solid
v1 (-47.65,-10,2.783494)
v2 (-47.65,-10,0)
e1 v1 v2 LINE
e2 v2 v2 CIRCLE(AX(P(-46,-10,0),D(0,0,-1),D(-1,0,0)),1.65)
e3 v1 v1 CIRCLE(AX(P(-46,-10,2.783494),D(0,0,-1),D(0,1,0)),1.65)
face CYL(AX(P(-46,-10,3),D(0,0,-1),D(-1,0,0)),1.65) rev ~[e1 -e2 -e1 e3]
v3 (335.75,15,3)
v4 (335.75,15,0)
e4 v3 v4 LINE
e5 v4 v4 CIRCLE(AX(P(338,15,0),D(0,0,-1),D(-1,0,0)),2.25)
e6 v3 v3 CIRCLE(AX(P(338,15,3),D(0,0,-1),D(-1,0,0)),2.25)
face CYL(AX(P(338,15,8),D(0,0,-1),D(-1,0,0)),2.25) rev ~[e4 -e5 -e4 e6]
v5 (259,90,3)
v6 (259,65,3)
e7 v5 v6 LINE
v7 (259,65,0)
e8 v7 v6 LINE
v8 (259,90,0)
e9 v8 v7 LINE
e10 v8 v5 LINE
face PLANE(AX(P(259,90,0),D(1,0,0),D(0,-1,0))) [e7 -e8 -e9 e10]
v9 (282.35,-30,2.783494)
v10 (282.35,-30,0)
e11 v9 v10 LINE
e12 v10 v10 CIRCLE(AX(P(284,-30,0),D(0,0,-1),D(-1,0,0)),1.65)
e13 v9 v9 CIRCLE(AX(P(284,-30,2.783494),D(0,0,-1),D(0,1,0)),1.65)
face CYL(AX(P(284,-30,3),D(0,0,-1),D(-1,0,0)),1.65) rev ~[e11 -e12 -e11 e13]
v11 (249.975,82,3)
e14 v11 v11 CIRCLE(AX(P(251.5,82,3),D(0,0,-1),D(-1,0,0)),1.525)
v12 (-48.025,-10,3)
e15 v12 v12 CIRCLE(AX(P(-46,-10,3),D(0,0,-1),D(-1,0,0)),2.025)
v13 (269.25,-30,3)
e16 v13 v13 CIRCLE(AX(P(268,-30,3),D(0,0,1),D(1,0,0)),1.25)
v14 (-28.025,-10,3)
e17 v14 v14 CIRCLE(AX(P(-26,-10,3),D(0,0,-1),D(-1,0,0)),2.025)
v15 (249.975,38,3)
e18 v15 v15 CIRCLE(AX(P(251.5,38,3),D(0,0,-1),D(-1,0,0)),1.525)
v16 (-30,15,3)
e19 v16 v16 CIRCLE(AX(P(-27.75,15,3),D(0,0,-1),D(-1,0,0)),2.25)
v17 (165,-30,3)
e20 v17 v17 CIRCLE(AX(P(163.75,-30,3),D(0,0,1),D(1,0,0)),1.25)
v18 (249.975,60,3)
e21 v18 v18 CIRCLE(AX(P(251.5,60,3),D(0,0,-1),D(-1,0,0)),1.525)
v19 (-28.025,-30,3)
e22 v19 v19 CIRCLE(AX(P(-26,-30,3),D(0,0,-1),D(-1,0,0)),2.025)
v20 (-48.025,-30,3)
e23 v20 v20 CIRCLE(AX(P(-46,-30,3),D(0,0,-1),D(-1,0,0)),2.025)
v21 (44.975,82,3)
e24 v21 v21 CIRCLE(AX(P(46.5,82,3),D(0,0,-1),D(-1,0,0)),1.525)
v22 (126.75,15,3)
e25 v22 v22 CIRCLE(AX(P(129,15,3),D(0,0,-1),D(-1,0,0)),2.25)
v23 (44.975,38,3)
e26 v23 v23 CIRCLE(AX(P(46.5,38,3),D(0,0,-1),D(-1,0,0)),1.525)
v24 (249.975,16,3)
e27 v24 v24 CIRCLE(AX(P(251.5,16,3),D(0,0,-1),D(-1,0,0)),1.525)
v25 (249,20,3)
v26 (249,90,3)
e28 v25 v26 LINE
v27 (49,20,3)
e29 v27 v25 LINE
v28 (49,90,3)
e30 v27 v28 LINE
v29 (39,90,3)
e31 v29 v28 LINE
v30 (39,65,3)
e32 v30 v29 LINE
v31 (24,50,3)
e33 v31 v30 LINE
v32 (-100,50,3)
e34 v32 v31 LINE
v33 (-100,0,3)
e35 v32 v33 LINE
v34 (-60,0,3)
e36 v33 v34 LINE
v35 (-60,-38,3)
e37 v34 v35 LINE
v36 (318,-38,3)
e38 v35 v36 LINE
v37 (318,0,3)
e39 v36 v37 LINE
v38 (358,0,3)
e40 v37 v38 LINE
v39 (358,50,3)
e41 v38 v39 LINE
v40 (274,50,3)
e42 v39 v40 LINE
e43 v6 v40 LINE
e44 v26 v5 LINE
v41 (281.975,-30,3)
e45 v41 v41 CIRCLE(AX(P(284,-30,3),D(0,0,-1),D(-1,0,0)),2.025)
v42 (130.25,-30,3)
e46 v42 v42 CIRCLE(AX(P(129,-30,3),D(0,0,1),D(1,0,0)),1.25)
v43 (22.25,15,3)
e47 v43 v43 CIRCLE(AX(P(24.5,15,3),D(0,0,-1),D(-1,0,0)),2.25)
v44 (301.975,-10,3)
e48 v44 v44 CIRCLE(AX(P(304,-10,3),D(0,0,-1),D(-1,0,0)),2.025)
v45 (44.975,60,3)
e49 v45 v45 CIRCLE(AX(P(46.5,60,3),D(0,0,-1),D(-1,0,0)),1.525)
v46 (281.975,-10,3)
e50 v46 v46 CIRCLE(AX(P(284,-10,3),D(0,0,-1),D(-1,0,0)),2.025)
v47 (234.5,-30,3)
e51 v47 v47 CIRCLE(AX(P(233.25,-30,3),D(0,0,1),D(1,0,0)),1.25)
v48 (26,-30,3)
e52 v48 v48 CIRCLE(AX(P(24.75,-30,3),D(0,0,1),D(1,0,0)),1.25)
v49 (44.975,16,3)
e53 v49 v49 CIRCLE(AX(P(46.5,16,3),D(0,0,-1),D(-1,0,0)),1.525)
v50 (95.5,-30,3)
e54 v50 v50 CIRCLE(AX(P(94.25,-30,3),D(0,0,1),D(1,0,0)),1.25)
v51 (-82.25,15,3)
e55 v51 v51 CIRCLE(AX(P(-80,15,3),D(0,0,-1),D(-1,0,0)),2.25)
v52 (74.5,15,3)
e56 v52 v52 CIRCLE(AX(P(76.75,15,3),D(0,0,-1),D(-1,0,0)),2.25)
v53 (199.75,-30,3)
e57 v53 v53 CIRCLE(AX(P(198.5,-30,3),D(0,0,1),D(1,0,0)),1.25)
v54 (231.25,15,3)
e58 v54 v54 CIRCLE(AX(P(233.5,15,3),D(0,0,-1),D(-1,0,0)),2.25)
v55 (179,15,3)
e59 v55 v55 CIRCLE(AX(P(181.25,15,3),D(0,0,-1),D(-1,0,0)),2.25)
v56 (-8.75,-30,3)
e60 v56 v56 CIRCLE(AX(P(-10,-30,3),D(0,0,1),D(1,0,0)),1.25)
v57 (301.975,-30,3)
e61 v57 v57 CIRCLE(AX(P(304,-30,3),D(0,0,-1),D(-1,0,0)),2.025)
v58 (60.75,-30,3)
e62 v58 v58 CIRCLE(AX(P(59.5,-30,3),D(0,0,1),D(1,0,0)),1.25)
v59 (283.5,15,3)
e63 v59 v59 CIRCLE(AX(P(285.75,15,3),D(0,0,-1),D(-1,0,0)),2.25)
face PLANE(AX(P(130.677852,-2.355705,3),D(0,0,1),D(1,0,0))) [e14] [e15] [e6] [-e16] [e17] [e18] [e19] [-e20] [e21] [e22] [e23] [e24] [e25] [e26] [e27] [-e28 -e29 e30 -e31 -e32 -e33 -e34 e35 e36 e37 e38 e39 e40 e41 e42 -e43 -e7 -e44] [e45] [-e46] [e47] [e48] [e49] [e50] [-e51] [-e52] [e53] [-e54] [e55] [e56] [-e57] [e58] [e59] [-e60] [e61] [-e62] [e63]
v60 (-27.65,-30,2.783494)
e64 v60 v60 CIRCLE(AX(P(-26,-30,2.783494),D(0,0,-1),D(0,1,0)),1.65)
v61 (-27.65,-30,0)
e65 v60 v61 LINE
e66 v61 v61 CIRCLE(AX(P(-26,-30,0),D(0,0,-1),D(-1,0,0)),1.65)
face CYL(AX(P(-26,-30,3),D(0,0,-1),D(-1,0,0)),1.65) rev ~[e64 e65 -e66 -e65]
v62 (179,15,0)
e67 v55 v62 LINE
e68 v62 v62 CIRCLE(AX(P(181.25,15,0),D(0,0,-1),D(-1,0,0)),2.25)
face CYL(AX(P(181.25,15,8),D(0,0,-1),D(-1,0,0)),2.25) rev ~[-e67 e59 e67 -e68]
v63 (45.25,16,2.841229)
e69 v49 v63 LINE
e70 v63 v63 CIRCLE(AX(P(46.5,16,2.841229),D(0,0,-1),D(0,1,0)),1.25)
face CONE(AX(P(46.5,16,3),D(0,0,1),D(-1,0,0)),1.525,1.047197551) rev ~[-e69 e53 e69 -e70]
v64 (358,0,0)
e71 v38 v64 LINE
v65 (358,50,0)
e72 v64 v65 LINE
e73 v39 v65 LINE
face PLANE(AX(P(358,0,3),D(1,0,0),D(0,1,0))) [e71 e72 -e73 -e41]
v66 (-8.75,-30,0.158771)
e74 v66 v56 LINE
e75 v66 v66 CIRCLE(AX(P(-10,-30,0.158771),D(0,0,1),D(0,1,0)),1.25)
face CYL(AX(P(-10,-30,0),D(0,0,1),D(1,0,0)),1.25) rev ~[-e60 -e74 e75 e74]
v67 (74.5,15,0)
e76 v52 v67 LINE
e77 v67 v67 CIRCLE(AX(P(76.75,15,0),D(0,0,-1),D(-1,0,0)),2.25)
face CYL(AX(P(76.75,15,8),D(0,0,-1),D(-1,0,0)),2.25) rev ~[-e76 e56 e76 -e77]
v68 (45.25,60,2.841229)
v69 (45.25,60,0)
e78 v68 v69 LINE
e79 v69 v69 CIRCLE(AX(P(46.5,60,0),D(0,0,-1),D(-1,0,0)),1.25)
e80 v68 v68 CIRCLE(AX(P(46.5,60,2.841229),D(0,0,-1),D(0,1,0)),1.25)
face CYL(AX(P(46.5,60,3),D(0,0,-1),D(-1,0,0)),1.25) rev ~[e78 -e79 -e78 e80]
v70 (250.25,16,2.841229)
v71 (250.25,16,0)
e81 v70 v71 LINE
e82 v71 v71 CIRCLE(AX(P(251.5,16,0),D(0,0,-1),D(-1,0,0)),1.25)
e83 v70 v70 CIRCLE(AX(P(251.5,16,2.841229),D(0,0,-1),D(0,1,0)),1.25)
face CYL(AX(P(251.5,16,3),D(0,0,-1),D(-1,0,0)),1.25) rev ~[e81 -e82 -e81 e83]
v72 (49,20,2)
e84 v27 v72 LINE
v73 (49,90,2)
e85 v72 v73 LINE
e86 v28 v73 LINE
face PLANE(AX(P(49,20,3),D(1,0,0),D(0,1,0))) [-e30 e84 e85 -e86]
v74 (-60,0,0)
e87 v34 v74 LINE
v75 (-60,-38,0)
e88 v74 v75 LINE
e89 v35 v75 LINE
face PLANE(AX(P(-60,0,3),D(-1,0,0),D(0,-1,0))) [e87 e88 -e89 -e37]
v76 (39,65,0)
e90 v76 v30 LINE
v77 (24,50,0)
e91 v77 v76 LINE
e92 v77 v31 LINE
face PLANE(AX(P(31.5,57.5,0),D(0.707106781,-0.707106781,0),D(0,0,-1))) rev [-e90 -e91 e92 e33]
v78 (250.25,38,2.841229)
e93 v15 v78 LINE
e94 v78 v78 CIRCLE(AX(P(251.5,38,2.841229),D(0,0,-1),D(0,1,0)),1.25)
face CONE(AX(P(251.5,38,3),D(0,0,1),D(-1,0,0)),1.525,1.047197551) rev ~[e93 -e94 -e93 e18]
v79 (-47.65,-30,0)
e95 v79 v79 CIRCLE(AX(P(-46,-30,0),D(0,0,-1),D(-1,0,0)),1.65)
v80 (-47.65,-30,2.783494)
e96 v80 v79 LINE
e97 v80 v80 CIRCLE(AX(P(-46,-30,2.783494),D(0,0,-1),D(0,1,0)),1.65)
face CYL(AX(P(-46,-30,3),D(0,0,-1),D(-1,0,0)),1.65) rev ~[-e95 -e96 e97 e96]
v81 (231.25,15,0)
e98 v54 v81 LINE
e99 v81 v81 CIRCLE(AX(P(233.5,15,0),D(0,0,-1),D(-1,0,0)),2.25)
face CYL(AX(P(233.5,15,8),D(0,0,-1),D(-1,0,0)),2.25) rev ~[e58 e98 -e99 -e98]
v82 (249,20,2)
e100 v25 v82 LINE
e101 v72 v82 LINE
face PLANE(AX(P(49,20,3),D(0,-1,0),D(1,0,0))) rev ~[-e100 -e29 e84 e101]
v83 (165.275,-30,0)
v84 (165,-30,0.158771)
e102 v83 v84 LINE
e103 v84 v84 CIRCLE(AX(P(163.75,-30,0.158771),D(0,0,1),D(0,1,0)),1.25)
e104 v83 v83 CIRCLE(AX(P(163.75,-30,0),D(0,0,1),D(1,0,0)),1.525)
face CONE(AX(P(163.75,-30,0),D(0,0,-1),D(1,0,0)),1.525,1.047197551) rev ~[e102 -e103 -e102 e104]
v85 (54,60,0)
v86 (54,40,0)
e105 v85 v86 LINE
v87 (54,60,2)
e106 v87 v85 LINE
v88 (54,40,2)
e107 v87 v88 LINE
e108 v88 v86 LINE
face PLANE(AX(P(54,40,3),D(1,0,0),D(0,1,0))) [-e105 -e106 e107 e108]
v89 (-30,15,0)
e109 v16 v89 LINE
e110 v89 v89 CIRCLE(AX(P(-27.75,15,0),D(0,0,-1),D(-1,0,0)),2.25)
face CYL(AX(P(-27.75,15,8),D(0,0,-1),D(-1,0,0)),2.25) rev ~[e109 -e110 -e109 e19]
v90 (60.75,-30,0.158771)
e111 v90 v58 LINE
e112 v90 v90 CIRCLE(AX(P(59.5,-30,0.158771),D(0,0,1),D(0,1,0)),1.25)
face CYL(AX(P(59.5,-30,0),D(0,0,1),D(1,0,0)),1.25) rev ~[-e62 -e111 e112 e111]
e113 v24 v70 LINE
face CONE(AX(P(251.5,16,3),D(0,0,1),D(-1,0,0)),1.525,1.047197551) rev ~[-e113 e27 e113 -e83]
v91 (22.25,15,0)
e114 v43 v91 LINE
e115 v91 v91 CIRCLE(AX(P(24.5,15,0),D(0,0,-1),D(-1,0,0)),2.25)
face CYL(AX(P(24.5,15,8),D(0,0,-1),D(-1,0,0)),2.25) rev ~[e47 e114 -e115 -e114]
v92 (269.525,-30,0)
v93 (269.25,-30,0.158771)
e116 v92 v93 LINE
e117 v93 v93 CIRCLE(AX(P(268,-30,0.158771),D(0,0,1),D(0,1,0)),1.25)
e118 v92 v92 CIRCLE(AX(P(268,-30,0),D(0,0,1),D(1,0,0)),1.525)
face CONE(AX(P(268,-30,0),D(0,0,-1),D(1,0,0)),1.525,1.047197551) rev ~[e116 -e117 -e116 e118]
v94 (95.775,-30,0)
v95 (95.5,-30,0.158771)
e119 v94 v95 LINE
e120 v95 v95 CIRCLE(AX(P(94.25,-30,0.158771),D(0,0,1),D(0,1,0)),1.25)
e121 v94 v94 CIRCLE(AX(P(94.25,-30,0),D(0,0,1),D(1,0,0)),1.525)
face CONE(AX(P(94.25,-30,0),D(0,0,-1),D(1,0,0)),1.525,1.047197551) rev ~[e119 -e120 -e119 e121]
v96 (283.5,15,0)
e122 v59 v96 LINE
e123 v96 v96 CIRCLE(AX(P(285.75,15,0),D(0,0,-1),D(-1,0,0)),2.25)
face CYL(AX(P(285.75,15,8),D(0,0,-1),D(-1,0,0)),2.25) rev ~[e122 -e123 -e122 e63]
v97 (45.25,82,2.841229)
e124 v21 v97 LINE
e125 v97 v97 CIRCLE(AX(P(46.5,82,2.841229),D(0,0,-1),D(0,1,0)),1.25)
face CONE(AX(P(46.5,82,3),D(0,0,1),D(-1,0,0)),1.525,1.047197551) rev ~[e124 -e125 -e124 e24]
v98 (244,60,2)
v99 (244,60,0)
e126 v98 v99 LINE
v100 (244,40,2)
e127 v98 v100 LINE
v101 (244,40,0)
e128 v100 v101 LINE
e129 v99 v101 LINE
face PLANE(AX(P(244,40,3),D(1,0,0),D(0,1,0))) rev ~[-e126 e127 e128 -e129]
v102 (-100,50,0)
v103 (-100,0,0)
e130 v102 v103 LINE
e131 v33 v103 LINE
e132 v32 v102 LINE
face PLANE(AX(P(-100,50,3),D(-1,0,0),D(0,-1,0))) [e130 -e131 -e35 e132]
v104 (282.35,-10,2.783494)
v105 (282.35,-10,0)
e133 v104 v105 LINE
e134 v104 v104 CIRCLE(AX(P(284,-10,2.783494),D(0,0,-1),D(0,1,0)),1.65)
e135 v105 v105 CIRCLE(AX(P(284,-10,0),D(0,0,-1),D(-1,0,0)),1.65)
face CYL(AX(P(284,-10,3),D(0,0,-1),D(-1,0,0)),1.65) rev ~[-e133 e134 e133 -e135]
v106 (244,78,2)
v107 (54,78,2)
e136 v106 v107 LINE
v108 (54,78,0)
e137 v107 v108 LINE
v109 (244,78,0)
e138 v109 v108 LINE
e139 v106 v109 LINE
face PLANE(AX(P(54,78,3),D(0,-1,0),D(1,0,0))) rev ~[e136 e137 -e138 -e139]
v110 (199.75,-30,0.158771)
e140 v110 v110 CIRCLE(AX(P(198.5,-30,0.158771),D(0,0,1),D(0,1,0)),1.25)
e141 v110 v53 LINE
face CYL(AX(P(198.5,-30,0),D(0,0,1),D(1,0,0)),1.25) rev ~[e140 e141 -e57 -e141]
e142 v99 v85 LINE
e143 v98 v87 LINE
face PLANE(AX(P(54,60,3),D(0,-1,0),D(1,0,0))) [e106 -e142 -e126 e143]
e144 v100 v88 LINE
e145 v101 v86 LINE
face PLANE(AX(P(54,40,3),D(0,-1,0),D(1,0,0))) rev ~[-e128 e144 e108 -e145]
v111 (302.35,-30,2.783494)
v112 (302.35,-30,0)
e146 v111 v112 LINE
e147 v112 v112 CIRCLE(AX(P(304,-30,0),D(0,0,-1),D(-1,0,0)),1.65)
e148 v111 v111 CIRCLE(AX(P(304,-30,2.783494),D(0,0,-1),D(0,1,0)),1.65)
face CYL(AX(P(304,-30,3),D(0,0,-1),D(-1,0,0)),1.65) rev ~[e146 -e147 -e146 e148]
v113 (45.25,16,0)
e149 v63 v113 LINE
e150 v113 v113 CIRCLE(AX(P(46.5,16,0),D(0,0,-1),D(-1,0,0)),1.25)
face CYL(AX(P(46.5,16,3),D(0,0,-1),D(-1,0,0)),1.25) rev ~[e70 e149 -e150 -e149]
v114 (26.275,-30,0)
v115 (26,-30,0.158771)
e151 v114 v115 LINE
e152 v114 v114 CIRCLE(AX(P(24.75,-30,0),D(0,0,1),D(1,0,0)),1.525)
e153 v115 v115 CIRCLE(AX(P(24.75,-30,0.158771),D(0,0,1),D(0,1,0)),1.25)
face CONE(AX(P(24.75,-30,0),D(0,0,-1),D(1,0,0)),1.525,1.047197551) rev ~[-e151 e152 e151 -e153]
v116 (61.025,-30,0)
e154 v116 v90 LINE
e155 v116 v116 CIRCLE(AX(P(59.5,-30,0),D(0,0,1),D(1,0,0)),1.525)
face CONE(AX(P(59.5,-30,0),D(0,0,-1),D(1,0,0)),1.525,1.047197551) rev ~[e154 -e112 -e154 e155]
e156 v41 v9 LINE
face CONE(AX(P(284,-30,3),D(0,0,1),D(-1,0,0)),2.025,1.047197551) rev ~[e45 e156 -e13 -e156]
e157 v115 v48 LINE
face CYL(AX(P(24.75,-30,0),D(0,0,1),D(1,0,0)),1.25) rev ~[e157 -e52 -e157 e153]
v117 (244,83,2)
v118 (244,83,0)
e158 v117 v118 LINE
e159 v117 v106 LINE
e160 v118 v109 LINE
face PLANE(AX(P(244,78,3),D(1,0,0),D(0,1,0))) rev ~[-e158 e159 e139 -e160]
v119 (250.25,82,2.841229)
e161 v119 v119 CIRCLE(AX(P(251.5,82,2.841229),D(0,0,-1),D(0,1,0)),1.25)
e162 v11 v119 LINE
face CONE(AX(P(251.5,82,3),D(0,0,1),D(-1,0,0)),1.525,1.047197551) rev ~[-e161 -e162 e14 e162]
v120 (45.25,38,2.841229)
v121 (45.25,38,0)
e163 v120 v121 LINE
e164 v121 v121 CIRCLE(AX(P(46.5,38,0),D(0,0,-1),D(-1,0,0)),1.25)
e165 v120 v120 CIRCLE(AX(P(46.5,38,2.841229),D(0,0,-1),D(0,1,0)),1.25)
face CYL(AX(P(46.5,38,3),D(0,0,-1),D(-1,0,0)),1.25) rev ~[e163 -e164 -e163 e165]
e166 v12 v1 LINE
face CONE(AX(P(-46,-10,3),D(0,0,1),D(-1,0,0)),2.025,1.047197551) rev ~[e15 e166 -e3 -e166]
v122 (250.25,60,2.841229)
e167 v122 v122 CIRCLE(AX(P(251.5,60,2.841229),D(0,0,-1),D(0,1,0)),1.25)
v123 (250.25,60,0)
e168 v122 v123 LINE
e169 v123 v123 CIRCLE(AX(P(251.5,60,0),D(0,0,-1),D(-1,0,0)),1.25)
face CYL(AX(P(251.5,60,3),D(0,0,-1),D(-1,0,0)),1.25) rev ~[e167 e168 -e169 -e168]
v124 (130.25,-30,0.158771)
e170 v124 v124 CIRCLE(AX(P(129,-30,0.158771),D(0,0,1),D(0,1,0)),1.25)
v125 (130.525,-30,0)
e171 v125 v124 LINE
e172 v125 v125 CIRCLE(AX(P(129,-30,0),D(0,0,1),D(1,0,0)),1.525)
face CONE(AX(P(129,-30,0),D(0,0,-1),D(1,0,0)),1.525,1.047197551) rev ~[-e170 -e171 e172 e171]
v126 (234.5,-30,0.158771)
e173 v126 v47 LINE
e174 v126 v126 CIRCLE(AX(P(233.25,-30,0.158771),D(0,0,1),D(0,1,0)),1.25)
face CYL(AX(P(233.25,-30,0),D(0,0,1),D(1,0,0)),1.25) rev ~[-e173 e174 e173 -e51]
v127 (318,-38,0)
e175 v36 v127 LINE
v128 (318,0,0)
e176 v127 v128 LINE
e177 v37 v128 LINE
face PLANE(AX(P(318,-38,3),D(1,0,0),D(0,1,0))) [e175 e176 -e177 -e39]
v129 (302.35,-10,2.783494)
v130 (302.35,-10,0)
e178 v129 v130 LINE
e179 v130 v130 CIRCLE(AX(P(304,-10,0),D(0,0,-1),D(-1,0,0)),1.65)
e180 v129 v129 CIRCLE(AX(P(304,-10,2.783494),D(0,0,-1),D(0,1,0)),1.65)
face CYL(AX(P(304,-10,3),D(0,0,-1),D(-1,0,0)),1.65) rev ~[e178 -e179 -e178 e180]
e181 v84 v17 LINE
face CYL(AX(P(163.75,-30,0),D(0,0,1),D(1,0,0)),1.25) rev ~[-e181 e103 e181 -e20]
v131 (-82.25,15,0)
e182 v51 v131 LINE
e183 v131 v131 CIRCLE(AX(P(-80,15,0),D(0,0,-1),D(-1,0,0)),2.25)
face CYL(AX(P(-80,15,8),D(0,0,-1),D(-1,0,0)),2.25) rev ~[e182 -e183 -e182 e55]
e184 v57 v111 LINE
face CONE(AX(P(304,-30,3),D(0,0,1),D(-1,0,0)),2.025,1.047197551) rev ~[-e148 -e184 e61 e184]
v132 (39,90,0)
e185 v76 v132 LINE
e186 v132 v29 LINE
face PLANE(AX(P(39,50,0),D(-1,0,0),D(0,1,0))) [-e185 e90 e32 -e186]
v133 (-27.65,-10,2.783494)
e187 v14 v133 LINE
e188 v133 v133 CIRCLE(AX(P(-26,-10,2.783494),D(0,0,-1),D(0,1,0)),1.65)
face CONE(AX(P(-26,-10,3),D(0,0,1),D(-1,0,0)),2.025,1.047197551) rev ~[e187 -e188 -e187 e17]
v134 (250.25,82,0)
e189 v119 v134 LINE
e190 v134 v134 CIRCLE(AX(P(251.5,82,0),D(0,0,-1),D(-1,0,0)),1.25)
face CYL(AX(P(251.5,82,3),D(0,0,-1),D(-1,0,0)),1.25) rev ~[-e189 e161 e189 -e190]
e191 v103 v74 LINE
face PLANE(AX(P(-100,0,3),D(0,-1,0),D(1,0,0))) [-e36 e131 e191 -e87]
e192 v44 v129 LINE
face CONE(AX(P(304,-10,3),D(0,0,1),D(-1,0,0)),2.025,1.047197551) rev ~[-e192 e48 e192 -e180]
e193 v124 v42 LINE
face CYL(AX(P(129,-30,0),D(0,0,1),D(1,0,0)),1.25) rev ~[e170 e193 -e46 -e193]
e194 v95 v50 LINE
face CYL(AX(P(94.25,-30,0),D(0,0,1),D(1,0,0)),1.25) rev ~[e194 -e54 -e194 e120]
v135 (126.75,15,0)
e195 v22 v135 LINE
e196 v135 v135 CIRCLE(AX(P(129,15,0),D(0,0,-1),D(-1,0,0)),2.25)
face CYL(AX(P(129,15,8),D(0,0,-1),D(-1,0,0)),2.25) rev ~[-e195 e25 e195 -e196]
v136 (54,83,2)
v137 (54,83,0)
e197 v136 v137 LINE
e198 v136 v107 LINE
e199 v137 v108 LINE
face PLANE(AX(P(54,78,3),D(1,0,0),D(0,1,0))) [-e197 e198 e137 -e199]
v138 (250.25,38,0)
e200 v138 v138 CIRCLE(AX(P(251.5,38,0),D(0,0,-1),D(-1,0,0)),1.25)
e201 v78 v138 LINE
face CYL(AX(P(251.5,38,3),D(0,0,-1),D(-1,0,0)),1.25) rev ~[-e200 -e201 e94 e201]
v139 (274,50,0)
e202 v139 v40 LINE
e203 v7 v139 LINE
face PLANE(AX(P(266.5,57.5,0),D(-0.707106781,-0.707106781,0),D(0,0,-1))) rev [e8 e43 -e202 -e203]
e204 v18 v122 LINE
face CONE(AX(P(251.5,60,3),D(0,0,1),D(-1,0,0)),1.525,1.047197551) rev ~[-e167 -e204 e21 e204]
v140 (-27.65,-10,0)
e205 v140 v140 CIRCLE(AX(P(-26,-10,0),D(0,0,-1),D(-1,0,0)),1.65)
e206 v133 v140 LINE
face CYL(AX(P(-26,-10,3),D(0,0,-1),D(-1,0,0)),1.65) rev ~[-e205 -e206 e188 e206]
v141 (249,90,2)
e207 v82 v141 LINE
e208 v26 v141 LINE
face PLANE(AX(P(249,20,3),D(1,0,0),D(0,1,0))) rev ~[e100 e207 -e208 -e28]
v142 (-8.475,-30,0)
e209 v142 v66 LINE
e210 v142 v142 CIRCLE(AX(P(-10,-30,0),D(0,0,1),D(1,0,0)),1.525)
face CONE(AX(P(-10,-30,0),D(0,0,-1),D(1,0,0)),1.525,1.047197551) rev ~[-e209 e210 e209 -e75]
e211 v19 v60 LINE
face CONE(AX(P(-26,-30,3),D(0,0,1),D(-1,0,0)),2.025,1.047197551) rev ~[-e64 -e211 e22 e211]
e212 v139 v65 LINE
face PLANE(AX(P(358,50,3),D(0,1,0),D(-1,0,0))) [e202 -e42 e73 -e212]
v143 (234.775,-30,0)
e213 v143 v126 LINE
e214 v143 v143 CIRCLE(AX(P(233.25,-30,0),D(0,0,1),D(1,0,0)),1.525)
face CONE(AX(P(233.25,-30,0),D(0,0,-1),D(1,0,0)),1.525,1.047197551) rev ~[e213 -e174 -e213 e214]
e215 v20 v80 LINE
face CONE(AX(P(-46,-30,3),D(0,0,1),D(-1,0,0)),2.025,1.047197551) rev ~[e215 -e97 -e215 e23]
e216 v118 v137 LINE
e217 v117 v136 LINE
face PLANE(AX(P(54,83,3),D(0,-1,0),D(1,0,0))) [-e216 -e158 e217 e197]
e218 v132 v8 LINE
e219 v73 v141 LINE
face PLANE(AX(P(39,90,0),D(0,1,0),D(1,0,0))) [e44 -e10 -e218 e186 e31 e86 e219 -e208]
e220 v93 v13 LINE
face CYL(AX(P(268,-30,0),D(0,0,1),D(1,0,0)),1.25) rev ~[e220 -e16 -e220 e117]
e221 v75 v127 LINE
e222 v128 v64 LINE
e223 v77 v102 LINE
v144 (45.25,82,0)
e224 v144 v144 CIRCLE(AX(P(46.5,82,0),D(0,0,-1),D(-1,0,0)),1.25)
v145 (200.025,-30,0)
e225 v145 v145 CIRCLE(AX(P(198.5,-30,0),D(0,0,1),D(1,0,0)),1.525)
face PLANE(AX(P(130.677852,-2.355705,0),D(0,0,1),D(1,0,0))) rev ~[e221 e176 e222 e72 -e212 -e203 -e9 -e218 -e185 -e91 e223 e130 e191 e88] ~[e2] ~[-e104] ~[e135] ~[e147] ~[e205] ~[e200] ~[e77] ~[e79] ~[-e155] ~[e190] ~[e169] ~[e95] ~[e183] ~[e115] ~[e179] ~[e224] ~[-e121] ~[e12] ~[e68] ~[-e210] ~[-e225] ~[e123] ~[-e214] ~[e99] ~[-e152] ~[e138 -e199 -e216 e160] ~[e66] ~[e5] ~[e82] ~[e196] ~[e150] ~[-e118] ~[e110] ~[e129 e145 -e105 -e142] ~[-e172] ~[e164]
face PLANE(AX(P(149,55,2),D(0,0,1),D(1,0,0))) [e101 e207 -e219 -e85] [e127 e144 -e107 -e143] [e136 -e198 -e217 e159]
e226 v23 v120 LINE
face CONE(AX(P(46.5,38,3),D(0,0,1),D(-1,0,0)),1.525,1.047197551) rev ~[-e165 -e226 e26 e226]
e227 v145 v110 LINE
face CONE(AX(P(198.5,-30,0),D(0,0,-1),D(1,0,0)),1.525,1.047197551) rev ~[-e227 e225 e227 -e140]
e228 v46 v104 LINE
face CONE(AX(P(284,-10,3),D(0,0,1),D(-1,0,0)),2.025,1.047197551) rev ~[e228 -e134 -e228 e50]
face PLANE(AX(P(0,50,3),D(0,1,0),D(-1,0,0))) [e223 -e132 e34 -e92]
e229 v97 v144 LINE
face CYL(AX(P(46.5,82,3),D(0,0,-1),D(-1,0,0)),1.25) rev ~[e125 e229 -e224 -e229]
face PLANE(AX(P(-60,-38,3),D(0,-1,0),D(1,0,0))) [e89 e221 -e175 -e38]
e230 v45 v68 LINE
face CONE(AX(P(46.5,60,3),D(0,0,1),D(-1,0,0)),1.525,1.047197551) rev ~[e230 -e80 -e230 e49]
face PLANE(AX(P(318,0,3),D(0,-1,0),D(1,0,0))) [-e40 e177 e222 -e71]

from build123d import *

# Parameters (mm, degrees)
EXTRUDE_1_DEPTH             = 3
SKETCH_2_W                  = 190
SKETCH_2_H                  = 5
SKETCH_2_H_2                = 20
CUT_EXTRUDE_1_DEPTH         = 4
SKETCH_3_W                  = 200
SKETCH_3_H                  = 70
CUT_EXTRUDE_2_DEPTH         = 1
EXTRUDE_2_DEPTH             = 3
CHAMFER_1_SIZE              = 15
HOLE_WIZARD_M41_D           = 3.3
HOLE_WIZARD_M41_DEPTH       = 11.5
HOLE_WIZARD_M41_CSINK_D     = 4.05
HOLE_WIZARD_M41_CSINK_ANGLE = 120
HOLE_WIZARD_M41_TIP         = 0.991420021
HOLE_WIZARD_M31_D           = 2.5
HOLE_WIZARD_M31_DEPTH       = 8.5
HOLE_WIZARD_M31_CSINK_D     = 3.05
HOLE_WIZARD_M31_CSINK_ANGLE = 120
HOLE_WIZARD_M31_TIP         = 0.751075774
HOLE_WIZARD_M32_D           = 2.5
HOLE_WIZARD_M32_DEPTH       = 8.5
HOLE_WIZARD_M32_CSINK_D     = 3.05
HOLE_WIZARD_M32_CSINK_ANGLE = 120
HOLE_WIZARD_M32_TIP         = 0.751075774
HOLE_WIZARD_M42_D           = 4.5
HOLE_WIZARD_M42_DEPTH       = 5
HOLE_WIZARD_M42_TIP         = 1.351936393


with BuildPart() as part:
    # Эскиз1 → Бобышка-Вытянуть1 (new body)
    with BuildSketch(Plane.XY):
        Polygon((259, 50), (298, 50), (298, 0), (0, 0), (0, 50), (39, 50), (39, 90), (259, 90), align=None)
    extrude(amount=EXTRUDE_1_DEPTH)

    # Эскиз2 → Вырез-Вытянуть1 (cut)
    with BuildSketch(Plane.XY.offset(3)):
        with Locations((149, 80.5)):
            Rectangle(SKETCH_2_W, SKETCH_2_H)
        with Locations((149, 50)):
            Rectangle(SKETCH_2_W, SKETCH_2_H_2)
    extrude(amount=-CUT_EXTRUDE_1_DEPTH, mode=Mode.SUBTRACT)

    # Эскиз3 → Вырез-Вытянуть2 (cut)
    with BuildSketch(Plane.XY.offset(3)):
        with Locations((149, 55)):
            Rectangle(SKETCH_3_W, SKETCH_3_H)
    extrude(amount=-CUT_EXTRUDE_2_DEPTH, mode=Mode.SUBTRACT)

    # Эскиз4 → Бобышка-Вытянуть2 (add)
    with BuildSketch(Plane.XY.offset(3)):
        Polygon((0, 50), (-100, 50), (-100, 0), (-60, 0), (-60, -38), (318, -38), (318, 0), (358, 0), (358, 50), (298, 50), (298, 0), (0, 0), align=None)
    extrude(amount=-EXTRUDE_2_DEPTH)

    # Фаска1
    chamfer_1_edges = [part.edges().sort_by_distance(p)[0] for p in [
        (39, 50, 1.5),
        (259, 50, 1.5),
    ]]
    chamfer(chamfer_1_edges, length=CHAMFER_1_SIZE)

    # Отверстие обработанное метчиком M41
    with Locations(Plane.XY.offset(3)):
        with Locations((-46, -30), (-26, -30), (-46, -10), (-26, -10), (284, -10), (304, -10), (304, -30), (284, -30)):
            CounterSinkHole(HOLE_WIZARD_M41_D / 2, HOLE_WIZARD_M41_CSINK_D / 2, depth=HOLE_WIZARD_M41_DEPTH, counter_sink_angle=HOLE_WIZARD_M41_CSINK_ANGLE)
            with Locations((0, 0, -(HOLE_WIZARD_M41_DEPTH + HOLE_WIZARD_M41_TIP / 2))):  # 118° drill point
                Cone(0, HOLE_WIZARD_M41_D / 2, HOLE_WIZARD_M41_TIP, mode=Mode.SUBTRACT)

    # Отверстие обработанное метчиком M31
    with Locations(Plane(origin=(0, 0, 0), x_dir=(-1, 0, 0), z_dir=(0, 0, -1))):
        with Locations((-268, -30), (-233.25, -30), (-198.5, -30), (-163.75, -30), (-129, -30), (-94.25, -30), (-59.5, -30), (-24.75, -30), (10, -30)):
            CounterSinkHole(HOLE_WIZARD_M31_D / 2, HOLE_WIZARD_M31_CSINK_D / 2, depth=HOLE_WIZARD_M31_DEPTH, counter_sink_angle=HOLE_WIZARD_M31_CSINK_ANGLE)
            with Locations((0, 0, -(HOLE_WIZARD_M31_DEPTH + HOLE_WIZARD_M31_TIP / 2))):  # 118° drill point
                Cone(0, HOLE_WIZARD_M31_D / 2, HOLE_WIZARD_M31_TIP, mode=Mode.SUBTRACT)

    # Отверстие обработанное метчиком M32
    with Locations(Plane.XY.offset(3)):
        with Locations((251.5, 82), (46.5, 82), (251.5, 60), (46.5, 60), (251.5, 38), (46.5, 38), (251.5, 16), (46.5, 16)):
            CounterSinkHole(HOLE_WIZARD_M32_D / 2, HOLE_WIZARD_M32_CSINK_D / 2, depth=HOLE_WIZARD_M32_DEPTH, counter_sink_angle=HOLE_WIZARD_M32_CSINK_ANGLE)
            with Locations((0, 0, -(HOLE_WIZARD_M32_DEPTH + HOLE_WIZARD_M32_TIP / 2))):  # 118° drill point
                Cone(0, HOLE_WIZARD_M32_D / 2, HOLE_WIZARD_M32_TIP, mode=Mode.SUBTRACT)

    # Отверстие с зазором M42
    with Locations(Plane.XY.offset(3)):
        with Locations((338, 15), (285.75, 15), (233.5, 15), (181.25, 15), (129, 15), (76.75, 15), (24.5, 15), (-27.75, 15), (-80, 15)):
            Hole(HOLE_WIZARD_M42_D / 2, depth=HOLE_WIZARD_M42_DEPTH)
            with Locations((0, 0, -(HOLE_WIZARD_M42_DEPTH + HOLE_WIZARD_M42_TIP / 2))):  # 118° drill point
                Cone(0, HOLE_WIZARD_M42_D / 2, HOLE_WIZARD_M42_TIP, mode=Mode.SUBTRACT)


solid = part.part
